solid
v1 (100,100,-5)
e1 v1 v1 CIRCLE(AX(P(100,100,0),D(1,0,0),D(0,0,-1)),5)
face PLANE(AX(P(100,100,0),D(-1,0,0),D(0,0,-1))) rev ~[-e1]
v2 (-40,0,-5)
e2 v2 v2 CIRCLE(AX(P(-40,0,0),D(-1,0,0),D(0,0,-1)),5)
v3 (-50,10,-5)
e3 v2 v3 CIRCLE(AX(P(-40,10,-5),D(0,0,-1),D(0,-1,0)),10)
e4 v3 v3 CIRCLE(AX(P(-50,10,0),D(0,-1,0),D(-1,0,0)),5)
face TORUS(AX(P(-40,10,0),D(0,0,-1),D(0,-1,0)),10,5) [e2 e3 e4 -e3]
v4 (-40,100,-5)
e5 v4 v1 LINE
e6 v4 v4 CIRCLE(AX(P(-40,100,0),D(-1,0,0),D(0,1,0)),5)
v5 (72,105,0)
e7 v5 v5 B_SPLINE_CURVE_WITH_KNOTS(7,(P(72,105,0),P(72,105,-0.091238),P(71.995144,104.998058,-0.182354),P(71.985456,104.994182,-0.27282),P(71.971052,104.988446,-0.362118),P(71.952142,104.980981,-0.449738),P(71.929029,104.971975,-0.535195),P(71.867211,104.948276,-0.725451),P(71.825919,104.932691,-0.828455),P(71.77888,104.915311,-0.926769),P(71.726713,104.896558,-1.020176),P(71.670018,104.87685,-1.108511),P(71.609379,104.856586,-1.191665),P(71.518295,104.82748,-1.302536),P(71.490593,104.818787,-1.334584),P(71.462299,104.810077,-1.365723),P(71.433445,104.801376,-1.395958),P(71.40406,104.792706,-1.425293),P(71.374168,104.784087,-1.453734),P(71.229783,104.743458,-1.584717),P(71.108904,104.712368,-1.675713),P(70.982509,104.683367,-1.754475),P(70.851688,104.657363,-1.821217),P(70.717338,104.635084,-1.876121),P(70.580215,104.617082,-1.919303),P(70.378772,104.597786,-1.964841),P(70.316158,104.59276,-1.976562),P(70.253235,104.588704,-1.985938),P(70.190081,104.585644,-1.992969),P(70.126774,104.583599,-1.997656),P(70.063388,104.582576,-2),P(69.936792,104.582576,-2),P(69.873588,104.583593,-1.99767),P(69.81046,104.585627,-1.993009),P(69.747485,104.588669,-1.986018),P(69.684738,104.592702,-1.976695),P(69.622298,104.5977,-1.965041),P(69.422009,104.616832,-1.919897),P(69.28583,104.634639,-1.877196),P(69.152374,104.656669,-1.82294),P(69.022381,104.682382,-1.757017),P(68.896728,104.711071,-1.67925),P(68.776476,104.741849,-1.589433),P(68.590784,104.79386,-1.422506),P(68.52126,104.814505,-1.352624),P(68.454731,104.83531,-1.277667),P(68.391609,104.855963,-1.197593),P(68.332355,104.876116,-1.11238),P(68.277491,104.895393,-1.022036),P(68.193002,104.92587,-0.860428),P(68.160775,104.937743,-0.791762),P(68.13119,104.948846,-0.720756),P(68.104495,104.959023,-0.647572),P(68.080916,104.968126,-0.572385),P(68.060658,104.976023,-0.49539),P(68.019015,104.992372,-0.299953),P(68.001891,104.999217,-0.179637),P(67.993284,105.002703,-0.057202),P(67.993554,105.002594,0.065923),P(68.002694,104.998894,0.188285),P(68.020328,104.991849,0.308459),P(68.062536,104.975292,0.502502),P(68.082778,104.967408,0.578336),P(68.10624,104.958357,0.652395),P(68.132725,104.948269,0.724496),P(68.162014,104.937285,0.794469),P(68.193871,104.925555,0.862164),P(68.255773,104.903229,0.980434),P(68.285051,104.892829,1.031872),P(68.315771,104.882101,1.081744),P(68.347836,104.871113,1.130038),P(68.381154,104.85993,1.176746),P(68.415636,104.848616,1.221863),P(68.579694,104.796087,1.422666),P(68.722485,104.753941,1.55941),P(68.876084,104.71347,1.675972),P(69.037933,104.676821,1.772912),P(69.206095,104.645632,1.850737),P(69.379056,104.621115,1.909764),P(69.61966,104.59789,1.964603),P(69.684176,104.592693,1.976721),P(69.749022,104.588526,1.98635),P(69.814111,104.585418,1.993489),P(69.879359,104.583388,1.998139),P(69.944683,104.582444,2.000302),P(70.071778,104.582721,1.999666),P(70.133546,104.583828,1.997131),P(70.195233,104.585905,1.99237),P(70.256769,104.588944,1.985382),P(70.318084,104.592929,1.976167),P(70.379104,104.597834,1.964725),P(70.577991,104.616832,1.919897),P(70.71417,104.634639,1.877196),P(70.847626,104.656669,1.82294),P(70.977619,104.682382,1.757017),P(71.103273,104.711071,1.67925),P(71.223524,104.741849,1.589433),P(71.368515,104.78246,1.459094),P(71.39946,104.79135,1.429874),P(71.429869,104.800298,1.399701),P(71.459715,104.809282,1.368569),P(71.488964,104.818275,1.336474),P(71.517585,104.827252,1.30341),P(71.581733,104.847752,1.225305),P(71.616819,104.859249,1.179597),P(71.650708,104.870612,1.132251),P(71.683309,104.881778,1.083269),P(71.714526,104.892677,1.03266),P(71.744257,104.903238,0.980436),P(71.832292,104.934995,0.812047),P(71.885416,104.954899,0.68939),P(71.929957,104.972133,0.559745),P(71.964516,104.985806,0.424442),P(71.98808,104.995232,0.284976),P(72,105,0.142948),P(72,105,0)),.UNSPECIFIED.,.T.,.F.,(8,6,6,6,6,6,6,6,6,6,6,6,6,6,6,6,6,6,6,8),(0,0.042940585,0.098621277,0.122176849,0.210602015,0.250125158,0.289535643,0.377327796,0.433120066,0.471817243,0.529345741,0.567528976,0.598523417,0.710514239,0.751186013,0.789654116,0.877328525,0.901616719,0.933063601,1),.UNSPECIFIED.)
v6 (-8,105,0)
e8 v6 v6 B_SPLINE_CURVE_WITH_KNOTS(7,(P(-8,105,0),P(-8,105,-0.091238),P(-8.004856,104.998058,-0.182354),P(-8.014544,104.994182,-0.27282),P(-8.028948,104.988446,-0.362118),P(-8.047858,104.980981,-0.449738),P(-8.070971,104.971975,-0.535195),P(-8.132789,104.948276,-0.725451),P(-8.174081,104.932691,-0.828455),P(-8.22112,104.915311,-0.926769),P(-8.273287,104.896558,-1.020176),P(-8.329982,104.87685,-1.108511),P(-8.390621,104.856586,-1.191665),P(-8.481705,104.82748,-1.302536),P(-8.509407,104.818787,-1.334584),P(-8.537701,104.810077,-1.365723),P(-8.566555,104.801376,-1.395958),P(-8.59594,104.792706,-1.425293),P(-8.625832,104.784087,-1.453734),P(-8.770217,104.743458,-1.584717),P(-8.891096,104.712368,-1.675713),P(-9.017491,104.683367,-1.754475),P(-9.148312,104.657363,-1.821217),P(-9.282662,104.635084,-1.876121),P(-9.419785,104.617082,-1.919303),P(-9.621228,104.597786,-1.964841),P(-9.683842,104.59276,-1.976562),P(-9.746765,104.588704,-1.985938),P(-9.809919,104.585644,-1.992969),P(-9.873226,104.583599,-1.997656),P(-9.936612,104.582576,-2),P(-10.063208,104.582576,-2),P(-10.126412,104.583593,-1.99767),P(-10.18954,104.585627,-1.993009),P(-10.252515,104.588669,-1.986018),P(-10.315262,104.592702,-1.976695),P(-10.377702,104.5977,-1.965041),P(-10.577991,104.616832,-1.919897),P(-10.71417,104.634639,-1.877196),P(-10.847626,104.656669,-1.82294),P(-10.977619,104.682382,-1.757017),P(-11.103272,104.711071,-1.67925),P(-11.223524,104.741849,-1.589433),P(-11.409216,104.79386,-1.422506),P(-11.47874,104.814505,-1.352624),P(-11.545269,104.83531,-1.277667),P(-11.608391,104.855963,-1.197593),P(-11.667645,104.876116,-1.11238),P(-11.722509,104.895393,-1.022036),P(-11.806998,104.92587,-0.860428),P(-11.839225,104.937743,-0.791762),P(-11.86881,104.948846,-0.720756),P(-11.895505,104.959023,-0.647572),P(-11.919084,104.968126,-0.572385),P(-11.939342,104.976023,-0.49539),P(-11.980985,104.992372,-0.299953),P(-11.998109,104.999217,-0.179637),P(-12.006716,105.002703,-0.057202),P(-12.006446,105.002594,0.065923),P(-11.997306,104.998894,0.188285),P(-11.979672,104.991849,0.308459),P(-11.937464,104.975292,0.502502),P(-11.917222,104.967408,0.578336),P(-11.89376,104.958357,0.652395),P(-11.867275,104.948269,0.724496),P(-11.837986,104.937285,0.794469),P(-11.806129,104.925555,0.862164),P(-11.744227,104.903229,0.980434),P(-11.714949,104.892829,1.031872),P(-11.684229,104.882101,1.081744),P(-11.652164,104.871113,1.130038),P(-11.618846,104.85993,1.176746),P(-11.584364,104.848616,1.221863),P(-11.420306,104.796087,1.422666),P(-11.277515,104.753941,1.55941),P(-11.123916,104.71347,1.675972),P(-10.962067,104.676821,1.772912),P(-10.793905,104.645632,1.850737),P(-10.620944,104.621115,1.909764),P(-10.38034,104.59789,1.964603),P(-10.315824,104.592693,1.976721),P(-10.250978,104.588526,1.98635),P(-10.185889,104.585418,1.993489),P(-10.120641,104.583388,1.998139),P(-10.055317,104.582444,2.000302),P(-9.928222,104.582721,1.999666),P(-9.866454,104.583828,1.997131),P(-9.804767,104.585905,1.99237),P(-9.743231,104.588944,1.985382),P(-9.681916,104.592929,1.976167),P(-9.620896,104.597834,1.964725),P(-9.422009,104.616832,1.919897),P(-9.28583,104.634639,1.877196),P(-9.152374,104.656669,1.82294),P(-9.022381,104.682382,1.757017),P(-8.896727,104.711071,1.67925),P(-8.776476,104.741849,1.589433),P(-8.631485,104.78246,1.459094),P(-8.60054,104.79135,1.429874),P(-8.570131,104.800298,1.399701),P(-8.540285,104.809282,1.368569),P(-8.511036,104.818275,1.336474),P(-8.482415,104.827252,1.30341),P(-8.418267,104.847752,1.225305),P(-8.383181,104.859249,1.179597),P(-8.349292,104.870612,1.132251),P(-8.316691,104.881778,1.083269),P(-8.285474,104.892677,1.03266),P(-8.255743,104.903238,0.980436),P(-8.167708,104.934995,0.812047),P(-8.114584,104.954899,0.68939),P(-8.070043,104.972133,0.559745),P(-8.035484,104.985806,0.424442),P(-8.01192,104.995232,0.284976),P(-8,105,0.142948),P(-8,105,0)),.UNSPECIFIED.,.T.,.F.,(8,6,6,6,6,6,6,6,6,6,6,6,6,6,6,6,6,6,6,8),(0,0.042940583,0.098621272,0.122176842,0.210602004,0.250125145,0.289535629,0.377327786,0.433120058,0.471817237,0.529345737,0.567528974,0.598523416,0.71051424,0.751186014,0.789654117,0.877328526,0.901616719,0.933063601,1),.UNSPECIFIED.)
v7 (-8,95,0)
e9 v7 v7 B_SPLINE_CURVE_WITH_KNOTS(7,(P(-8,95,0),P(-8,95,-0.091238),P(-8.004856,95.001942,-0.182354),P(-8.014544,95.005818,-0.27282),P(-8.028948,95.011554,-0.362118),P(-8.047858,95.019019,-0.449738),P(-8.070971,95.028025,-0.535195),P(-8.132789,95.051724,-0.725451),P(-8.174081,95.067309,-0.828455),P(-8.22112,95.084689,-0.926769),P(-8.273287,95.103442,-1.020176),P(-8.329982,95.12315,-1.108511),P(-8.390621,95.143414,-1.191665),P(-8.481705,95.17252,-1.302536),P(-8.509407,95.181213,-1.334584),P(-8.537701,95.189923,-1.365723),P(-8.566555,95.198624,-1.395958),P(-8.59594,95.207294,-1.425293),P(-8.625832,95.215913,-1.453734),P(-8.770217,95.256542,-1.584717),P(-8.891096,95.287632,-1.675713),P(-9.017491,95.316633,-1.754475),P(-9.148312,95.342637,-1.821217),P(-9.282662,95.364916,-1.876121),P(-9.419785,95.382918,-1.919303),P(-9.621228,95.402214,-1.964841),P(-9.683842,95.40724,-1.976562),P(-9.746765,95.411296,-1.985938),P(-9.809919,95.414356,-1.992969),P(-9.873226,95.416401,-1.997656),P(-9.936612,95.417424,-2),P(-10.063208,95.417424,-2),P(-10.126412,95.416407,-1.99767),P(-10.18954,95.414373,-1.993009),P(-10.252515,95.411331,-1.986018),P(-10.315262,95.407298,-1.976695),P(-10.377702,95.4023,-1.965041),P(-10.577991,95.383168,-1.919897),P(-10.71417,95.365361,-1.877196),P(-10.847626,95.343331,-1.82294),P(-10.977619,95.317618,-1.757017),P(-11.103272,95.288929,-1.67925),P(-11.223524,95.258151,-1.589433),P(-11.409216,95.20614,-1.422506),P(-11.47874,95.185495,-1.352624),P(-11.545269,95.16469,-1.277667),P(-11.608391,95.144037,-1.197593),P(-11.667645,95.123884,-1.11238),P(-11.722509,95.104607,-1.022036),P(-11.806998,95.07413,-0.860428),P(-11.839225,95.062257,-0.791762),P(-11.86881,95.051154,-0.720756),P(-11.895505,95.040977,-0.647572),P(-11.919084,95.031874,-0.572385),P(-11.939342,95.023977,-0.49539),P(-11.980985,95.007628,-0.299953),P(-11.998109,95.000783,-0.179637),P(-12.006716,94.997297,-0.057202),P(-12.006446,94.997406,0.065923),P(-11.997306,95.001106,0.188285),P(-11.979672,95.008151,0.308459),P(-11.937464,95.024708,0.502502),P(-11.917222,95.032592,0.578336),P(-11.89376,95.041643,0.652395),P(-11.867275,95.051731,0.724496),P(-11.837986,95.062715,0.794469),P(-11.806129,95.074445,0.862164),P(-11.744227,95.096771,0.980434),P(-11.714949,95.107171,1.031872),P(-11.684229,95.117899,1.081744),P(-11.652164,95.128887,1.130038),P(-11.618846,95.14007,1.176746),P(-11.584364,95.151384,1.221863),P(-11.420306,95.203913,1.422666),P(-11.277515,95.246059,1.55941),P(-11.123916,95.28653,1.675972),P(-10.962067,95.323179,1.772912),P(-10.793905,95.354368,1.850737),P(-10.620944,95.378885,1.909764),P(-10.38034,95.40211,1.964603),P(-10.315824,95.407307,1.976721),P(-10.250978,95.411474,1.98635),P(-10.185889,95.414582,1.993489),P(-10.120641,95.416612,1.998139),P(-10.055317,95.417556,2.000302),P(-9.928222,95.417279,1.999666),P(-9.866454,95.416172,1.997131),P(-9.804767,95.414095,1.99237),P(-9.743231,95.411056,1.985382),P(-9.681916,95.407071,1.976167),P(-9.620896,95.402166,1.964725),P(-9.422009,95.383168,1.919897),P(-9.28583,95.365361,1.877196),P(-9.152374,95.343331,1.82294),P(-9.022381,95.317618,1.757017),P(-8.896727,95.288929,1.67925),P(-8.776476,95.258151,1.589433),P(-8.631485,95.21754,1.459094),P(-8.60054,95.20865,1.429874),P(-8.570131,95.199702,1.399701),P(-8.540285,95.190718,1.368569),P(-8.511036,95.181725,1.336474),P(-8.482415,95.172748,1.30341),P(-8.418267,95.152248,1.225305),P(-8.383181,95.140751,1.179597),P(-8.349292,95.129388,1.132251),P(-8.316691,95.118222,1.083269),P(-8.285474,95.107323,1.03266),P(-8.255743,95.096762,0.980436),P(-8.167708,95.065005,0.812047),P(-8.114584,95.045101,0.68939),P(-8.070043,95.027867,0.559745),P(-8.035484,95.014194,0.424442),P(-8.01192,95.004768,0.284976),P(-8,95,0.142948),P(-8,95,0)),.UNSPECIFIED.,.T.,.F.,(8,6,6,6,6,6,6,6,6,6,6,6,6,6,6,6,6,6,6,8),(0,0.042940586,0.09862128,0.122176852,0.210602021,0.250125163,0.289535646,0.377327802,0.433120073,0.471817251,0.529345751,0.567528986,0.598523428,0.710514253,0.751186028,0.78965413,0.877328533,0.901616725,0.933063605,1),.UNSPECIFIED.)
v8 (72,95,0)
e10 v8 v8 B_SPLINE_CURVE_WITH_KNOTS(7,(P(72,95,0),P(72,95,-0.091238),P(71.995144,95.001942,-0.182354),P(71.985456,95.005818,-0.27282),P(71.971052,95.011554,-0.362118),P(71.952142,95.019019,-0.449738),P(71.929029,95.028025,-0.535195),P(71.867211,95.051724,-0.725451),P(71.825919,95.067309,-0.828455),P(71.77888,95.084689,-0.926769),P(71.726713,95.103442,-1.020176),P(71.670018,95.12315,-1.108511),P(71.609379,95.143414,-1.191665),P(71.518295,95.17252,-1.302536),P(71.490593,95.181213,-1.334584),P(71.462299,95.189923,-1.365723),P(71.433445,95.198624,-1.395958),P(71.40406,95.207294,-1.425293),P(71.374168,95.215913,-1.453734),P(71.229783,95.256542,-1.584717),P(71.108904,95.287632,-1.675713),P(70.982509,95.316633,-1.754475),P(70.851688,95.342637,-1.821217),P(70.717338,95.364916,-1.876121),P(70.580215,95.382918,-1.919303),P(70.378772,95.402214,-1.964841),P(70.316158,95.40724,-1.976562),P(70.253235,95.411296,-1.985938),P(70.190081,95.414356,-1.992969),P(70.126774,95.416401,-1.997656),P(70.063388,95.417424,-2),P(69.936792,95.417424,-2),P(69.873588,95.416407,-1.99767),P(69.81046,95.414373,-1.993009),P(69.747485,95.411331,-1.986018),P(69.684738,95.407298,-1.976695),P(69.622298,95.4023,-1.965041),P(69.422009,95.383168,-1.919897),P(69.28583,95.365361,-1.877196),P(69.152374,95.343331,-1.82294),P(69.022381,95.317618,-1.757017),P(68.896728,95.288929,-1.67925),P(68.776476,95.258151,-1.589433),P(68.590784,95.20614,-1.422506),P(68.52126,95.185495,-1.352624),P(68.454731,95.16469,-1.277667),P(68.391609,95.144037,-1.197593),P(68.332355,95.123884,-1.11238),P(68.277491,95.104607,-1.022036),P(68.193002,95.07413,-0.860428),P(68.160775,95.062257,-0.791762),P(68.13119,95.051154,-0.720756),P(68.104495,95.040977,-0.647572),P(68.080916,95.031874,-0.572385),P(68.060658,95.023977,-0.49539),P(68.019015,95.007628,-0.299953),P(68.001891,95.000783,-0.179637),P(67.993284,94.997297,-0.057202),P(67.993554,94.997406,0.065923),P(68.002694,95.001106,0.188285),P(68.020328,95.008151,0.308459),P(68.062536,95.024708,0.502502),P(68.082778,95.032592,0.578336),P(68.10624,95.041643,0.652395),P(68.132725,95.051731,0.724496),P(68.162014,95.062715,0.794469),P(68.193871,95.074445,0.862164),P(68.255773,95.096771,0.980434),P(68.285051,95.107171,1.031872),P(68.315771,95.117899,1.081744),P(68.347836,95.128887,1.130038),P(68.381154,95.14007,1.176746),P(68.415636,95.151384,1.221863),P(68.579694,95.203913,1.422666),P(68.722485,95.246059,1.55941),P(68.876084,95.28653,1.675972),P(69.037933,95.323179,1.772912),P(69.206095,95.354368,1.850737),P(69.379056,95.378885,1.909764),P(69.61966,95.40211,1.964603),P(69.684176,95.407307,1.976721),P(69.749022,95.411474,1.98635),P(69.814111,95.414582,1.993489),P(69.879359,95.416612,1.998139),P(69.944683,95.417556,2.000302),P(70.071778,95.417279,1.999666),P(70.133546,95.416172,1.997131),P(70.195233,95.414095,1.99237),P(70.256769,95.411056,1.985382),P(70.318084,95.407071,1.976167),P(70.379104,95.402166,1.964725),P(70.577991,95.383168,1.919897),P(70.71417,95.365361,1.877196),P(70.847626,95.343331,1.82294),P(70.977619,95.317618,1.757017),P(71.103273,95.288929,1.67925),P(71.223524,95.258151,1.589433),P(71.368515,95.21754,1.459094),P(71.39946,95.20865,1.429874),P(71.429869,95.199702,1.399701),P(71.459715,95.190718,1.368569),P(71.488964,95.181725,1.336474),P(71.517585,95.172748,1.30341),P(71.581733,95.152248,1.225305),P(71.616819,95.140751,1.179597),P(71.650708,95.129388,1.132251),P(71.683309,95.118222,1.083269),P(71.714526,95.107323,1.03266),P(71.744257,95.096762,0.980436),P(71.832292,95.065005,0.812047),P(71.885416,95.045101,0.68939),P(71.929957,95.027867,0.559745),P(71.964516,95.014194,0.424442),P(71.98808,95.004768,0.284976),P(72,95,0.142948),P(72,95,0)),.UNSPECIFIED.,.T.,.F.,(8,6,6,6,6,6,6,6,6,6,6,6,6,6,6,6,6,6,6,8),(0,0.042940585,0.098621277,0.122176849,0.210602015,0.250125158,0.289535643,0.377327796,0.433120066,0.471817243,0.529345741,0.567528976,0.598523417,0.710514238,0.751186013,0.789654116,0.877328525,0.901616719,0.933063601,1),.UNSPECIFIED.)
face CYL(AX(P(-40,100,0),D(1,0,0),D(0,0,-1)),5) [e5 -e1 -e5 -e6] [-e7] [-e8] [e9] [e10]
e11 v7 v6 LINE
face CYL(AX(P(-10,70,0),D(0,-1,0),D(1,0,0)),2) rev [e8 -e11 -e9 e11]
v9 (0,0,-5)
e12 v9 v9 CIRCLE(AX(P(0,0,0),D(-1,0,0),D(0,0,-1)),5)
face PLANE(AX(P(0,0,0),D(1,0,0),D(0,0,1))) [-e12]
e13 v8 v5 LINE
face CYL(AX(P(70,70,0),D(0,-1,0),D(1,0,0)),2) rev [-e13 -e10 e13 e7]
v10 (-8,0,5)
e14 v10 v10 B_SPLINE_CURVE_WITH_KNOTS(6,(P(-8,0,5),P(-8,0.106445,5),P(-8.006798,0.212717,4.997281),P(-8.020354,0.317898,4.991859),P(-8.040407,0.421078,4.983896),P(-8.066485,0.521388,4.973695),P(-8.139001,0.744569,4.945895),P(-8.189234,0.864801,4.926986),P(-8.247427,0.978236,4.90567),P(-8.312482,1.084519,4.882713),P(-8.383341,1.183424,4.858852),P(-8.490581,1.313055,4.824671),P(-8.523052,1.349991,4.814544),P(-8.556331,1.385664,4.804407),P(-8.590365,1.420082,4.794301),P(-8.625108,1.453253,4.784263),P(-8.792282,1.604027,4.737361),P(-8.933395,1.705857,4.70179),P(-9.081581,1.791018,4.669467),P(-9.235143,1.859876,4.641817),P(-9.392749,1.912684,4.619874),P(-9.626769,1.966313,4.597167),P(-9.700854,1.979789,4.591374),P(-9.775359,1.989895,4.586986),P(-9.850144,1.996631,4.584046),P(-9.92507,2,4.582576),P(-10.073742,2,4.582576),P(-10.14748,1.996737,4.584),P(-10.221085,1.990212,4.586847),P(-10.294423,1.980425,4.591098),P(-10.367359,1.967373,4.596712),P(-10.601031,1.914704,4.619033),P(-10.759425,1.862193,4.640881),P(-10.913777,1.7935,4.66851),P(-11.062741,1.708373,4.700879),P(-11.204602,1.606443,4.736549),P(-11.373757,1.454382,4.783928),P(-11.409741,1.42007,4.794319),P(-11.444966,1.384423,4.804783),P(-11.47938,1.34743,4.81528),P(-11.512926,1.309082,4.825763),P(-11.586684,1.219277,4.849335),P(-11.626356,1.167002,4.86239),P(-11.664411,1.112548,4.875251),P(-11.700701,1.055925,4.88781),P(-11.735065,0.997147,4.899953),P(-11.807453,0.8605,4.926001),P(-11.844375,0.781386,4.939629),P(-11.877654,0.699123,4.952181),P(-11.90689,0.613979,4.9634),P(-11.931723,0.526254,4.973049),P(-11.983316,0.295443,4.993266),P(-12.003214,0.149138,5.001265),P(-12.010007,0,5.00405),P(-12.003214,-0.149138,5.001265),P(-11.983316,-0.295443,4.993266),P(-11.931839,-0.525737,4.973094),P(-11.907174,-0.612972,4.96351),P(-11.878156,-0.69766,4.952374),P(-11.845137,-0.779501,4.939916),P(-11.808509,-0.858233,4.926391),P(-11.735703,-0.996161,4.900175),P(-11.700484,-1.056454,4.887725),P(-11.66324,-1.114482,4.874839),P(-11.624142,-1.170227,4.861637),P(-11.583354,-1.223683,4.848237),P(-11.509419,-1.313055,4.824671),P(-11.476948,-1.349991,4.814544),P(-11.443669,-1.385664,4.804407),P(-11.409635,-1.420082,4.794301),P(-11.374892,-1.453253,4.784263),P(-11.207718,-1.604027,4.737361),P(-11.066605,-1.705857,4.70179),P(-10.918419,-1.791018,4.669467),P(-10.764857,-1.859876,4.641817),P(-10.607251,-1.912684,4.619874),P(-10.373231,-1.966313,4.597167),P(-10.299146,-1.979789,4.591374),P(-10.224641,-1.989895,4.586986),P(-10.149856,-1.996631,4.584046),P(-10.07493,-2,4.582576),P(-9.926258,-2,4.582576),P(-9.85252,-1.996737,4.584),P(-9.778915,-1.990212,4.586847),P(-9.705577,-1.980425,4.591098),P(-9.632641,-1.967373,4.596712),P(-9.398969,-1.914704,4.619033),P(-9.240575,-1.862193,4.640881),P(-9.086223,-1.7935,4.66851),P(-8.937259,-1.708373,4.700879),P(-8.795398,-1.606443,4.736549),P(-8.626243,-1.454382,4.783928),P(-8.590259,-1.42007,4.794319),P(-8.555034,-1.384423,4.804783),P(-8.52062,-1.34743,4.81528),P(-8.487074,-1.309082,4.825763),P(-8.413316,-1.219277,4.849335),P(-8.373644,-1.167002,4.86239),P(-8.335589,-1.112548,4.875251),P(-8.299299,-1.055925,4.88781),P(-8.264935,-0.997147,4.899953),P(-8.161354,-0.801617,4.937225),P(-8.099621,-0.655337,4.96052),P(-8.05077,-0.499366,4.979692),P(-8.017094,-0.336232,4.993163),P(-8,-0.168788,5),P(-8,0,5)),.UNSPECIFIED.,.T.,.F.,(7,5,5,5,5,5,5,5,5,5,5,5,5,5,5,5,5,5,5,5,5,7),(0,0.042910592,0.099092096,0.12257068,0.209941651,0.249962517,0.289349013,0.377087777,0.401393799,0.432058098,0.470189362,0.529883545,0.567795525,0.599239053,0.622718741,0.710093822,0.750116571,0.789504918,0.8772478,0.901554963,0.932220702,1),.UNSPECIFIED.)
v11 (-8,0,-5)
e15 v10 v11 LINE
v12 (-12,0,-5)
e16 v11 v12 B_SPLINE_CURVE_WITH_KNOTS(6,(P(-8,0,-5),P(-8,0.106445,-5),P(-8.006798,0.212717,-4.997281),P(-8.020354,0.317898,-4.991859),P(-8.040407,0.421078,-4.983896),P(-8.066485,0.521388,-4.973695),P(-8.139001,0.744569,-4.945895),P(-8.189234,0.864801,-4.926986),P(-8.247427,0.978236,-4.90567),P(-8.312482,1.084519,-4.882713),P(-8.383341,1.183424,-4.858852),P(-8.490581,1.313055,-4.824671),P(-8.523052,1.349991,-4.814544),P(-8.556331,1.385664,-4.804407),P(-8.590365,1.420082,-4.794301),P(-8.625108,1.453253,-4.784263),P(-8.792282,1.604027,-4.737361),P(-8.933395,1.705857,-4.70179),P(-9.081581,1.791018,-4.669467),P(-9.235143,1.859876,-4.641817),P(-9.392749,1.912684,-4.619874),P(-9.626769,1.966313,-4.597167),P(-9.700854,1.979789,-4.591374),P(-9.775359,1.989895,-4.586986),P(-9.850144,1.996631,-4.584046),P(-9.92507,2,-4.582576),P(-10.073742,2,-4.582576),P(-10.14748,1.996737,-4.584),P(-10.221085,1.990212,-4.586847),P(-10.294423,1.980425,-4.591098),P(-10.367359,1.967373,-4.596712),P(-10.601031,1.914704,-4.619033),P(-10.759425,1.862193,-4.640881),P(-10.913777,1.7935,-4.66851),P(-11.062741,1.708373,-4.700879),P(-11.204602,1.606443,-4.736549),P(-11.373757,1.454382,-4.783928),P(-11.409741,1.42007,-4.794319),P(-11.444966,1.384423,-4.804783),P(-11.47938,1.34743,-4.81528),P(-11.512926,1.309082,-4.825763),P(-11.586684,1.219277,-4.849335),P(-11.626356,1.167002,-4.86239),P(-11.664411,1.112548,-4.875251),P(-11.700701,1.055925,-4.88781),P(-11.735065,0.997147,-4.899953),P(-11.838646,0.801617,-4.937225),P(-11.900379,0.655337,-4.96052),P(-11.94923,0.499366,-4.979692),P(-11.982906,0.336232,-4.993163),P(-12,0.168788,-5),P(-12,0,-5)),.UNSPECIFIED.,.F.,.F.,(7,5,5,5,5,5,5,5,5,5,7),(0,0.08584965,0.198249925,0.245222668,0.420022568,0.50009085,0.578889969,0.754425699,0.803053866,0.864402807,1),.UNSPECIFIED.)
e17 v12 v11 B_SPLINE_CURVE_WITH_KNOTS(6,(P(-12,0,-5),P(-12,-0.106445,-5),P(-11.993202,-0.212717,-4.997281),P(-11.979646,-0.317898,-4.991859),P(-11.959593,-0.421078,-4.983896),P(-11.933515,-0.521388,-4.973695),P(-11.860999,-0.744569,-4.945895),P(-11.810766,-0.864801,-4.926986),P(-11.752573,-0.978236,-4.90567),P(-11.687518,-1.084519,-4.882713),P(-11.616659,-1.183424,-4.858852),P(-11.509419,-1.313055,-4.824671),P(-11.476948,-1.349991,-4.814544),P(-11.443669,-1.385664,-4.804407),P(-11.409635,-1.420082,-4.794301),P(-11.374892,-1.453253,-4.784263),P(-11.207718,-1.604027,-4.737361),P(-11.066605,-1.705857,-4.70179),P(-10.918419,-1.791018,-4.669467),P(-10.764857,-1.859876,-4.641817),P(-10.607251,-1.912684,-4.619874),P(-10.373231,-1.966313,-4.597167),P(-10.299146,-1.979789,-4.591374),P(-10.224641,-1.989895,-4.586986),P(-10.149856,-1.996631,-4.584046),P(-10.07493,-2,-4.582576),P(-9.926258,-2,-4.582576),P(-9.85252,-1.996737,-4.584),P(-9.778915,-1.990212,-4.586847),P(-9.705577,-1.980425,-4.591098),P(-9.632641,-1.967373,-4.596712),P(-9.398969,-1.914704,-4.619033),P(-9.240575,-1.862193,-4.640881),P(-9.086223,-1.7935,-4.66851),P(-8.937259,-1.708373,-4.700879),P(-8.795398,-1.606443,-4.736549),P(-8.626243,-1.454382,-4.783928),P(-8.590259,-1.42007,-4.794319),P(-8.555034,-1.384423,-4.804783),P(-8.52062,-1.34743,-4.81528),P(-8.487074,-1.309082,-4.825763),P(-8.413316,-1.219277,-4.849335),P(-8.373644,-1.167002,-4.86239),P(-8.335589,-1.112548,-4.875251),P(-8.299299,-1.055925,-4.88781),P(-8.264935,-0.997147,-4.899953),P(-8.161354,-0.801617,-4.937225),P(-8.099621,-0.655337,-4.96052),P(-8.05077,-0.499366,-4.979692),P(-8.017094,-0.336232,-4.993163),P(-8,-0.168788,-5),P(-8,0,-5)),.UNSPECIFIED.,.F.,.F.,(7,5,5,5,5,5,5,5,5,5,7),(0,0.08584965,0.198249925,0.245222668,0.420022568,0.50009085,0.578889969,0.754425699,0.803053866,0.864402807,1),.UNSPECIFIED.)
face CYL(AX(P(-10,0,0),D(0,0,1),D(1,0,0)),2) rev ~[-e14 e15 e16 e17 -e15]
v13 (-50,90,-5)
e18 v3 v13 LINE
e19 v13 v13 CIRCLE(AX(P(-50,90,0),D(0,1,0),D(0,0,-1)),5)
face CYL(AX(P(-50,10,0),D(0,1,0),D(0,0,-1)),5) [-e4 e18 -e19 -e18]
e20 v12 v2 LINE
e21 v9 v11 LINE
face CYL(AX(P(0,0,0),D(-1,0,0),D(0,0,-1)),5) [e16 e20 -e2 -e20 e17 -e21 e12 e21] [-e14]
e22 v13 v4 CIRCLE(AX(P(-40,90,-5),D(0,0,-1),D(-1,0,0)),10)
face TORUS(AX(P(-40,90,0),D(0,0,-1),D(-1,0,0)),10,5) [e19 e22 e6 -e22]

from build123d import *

# Parameters (mm, degrees)
SKETCH_3_R               = 5
CUT_EXTRUDE_1_DEPTH      = 10
CUT_EXTRUDE_1_DEPTH_BACK = 10
SKETCH_4_R               = 2
SKETCH_6_R               = 2
CUT_EXTRUDE_3_DEPTH      = 129


with BuildPart() as part:
    # 扫描1: sweep along a path in 草图1
    with BuildLine(Plane.XY) as sweep_1_path:
        Line((0, 0), (-40, 0))
        ThreePointArc((-40, 0), (-47.071067812, 2.928932188), (-50, 10))
        Line((-50, 10), (-50, 90))
        ThreePointArc((-50, 90), (-47.071067812, 97.071067812), (-40, 100))
        Line((-40, 100), (100, 100))
    # 草图3 → 扫描1 (sweep)
    with BuildSketch(Plane(origin=(0, 0, 0), x_dir=(0, 0, -1), z_dir=(1, 0, 0))):
        Circle(SKETCH_3_R)
    sweep(path=sweep_1_path.line)

    # 草图4 → 切除-拉伸1 (cut, two sides: drawn at the far end of the back side and taken through both)
    with BuildSketch(Plane.XY.offset(-CUT_EXTRUDE_1_DEPTH_BACK)):
        with Locations((-10, 0)):
            Circle(SKETCH_4_R)
    extrude(amount=CUT_EXTRUDE_1_DEPTH + CUT_EXTRUDE_1_DEPTH_BACK, mode=Mode.SUBTRACT)

    # 草图6 → 切除-拉伸3 (cut)
    with BuildSketch(Plane(origin=(0, 70, 0), x_dir=(1, 0, 0), z_dir=(0, 1, 0))):
        with Locations((70, 0)):
            Circle(SKETCH_6_R)
        with Locations((-10, 0)):
            Circle(SKETCH_6_R)
    extrude(amount=CUT_EXTRUDE_3_DEPTH, mode=Mode.SUBTRACT)


solid = part.part
